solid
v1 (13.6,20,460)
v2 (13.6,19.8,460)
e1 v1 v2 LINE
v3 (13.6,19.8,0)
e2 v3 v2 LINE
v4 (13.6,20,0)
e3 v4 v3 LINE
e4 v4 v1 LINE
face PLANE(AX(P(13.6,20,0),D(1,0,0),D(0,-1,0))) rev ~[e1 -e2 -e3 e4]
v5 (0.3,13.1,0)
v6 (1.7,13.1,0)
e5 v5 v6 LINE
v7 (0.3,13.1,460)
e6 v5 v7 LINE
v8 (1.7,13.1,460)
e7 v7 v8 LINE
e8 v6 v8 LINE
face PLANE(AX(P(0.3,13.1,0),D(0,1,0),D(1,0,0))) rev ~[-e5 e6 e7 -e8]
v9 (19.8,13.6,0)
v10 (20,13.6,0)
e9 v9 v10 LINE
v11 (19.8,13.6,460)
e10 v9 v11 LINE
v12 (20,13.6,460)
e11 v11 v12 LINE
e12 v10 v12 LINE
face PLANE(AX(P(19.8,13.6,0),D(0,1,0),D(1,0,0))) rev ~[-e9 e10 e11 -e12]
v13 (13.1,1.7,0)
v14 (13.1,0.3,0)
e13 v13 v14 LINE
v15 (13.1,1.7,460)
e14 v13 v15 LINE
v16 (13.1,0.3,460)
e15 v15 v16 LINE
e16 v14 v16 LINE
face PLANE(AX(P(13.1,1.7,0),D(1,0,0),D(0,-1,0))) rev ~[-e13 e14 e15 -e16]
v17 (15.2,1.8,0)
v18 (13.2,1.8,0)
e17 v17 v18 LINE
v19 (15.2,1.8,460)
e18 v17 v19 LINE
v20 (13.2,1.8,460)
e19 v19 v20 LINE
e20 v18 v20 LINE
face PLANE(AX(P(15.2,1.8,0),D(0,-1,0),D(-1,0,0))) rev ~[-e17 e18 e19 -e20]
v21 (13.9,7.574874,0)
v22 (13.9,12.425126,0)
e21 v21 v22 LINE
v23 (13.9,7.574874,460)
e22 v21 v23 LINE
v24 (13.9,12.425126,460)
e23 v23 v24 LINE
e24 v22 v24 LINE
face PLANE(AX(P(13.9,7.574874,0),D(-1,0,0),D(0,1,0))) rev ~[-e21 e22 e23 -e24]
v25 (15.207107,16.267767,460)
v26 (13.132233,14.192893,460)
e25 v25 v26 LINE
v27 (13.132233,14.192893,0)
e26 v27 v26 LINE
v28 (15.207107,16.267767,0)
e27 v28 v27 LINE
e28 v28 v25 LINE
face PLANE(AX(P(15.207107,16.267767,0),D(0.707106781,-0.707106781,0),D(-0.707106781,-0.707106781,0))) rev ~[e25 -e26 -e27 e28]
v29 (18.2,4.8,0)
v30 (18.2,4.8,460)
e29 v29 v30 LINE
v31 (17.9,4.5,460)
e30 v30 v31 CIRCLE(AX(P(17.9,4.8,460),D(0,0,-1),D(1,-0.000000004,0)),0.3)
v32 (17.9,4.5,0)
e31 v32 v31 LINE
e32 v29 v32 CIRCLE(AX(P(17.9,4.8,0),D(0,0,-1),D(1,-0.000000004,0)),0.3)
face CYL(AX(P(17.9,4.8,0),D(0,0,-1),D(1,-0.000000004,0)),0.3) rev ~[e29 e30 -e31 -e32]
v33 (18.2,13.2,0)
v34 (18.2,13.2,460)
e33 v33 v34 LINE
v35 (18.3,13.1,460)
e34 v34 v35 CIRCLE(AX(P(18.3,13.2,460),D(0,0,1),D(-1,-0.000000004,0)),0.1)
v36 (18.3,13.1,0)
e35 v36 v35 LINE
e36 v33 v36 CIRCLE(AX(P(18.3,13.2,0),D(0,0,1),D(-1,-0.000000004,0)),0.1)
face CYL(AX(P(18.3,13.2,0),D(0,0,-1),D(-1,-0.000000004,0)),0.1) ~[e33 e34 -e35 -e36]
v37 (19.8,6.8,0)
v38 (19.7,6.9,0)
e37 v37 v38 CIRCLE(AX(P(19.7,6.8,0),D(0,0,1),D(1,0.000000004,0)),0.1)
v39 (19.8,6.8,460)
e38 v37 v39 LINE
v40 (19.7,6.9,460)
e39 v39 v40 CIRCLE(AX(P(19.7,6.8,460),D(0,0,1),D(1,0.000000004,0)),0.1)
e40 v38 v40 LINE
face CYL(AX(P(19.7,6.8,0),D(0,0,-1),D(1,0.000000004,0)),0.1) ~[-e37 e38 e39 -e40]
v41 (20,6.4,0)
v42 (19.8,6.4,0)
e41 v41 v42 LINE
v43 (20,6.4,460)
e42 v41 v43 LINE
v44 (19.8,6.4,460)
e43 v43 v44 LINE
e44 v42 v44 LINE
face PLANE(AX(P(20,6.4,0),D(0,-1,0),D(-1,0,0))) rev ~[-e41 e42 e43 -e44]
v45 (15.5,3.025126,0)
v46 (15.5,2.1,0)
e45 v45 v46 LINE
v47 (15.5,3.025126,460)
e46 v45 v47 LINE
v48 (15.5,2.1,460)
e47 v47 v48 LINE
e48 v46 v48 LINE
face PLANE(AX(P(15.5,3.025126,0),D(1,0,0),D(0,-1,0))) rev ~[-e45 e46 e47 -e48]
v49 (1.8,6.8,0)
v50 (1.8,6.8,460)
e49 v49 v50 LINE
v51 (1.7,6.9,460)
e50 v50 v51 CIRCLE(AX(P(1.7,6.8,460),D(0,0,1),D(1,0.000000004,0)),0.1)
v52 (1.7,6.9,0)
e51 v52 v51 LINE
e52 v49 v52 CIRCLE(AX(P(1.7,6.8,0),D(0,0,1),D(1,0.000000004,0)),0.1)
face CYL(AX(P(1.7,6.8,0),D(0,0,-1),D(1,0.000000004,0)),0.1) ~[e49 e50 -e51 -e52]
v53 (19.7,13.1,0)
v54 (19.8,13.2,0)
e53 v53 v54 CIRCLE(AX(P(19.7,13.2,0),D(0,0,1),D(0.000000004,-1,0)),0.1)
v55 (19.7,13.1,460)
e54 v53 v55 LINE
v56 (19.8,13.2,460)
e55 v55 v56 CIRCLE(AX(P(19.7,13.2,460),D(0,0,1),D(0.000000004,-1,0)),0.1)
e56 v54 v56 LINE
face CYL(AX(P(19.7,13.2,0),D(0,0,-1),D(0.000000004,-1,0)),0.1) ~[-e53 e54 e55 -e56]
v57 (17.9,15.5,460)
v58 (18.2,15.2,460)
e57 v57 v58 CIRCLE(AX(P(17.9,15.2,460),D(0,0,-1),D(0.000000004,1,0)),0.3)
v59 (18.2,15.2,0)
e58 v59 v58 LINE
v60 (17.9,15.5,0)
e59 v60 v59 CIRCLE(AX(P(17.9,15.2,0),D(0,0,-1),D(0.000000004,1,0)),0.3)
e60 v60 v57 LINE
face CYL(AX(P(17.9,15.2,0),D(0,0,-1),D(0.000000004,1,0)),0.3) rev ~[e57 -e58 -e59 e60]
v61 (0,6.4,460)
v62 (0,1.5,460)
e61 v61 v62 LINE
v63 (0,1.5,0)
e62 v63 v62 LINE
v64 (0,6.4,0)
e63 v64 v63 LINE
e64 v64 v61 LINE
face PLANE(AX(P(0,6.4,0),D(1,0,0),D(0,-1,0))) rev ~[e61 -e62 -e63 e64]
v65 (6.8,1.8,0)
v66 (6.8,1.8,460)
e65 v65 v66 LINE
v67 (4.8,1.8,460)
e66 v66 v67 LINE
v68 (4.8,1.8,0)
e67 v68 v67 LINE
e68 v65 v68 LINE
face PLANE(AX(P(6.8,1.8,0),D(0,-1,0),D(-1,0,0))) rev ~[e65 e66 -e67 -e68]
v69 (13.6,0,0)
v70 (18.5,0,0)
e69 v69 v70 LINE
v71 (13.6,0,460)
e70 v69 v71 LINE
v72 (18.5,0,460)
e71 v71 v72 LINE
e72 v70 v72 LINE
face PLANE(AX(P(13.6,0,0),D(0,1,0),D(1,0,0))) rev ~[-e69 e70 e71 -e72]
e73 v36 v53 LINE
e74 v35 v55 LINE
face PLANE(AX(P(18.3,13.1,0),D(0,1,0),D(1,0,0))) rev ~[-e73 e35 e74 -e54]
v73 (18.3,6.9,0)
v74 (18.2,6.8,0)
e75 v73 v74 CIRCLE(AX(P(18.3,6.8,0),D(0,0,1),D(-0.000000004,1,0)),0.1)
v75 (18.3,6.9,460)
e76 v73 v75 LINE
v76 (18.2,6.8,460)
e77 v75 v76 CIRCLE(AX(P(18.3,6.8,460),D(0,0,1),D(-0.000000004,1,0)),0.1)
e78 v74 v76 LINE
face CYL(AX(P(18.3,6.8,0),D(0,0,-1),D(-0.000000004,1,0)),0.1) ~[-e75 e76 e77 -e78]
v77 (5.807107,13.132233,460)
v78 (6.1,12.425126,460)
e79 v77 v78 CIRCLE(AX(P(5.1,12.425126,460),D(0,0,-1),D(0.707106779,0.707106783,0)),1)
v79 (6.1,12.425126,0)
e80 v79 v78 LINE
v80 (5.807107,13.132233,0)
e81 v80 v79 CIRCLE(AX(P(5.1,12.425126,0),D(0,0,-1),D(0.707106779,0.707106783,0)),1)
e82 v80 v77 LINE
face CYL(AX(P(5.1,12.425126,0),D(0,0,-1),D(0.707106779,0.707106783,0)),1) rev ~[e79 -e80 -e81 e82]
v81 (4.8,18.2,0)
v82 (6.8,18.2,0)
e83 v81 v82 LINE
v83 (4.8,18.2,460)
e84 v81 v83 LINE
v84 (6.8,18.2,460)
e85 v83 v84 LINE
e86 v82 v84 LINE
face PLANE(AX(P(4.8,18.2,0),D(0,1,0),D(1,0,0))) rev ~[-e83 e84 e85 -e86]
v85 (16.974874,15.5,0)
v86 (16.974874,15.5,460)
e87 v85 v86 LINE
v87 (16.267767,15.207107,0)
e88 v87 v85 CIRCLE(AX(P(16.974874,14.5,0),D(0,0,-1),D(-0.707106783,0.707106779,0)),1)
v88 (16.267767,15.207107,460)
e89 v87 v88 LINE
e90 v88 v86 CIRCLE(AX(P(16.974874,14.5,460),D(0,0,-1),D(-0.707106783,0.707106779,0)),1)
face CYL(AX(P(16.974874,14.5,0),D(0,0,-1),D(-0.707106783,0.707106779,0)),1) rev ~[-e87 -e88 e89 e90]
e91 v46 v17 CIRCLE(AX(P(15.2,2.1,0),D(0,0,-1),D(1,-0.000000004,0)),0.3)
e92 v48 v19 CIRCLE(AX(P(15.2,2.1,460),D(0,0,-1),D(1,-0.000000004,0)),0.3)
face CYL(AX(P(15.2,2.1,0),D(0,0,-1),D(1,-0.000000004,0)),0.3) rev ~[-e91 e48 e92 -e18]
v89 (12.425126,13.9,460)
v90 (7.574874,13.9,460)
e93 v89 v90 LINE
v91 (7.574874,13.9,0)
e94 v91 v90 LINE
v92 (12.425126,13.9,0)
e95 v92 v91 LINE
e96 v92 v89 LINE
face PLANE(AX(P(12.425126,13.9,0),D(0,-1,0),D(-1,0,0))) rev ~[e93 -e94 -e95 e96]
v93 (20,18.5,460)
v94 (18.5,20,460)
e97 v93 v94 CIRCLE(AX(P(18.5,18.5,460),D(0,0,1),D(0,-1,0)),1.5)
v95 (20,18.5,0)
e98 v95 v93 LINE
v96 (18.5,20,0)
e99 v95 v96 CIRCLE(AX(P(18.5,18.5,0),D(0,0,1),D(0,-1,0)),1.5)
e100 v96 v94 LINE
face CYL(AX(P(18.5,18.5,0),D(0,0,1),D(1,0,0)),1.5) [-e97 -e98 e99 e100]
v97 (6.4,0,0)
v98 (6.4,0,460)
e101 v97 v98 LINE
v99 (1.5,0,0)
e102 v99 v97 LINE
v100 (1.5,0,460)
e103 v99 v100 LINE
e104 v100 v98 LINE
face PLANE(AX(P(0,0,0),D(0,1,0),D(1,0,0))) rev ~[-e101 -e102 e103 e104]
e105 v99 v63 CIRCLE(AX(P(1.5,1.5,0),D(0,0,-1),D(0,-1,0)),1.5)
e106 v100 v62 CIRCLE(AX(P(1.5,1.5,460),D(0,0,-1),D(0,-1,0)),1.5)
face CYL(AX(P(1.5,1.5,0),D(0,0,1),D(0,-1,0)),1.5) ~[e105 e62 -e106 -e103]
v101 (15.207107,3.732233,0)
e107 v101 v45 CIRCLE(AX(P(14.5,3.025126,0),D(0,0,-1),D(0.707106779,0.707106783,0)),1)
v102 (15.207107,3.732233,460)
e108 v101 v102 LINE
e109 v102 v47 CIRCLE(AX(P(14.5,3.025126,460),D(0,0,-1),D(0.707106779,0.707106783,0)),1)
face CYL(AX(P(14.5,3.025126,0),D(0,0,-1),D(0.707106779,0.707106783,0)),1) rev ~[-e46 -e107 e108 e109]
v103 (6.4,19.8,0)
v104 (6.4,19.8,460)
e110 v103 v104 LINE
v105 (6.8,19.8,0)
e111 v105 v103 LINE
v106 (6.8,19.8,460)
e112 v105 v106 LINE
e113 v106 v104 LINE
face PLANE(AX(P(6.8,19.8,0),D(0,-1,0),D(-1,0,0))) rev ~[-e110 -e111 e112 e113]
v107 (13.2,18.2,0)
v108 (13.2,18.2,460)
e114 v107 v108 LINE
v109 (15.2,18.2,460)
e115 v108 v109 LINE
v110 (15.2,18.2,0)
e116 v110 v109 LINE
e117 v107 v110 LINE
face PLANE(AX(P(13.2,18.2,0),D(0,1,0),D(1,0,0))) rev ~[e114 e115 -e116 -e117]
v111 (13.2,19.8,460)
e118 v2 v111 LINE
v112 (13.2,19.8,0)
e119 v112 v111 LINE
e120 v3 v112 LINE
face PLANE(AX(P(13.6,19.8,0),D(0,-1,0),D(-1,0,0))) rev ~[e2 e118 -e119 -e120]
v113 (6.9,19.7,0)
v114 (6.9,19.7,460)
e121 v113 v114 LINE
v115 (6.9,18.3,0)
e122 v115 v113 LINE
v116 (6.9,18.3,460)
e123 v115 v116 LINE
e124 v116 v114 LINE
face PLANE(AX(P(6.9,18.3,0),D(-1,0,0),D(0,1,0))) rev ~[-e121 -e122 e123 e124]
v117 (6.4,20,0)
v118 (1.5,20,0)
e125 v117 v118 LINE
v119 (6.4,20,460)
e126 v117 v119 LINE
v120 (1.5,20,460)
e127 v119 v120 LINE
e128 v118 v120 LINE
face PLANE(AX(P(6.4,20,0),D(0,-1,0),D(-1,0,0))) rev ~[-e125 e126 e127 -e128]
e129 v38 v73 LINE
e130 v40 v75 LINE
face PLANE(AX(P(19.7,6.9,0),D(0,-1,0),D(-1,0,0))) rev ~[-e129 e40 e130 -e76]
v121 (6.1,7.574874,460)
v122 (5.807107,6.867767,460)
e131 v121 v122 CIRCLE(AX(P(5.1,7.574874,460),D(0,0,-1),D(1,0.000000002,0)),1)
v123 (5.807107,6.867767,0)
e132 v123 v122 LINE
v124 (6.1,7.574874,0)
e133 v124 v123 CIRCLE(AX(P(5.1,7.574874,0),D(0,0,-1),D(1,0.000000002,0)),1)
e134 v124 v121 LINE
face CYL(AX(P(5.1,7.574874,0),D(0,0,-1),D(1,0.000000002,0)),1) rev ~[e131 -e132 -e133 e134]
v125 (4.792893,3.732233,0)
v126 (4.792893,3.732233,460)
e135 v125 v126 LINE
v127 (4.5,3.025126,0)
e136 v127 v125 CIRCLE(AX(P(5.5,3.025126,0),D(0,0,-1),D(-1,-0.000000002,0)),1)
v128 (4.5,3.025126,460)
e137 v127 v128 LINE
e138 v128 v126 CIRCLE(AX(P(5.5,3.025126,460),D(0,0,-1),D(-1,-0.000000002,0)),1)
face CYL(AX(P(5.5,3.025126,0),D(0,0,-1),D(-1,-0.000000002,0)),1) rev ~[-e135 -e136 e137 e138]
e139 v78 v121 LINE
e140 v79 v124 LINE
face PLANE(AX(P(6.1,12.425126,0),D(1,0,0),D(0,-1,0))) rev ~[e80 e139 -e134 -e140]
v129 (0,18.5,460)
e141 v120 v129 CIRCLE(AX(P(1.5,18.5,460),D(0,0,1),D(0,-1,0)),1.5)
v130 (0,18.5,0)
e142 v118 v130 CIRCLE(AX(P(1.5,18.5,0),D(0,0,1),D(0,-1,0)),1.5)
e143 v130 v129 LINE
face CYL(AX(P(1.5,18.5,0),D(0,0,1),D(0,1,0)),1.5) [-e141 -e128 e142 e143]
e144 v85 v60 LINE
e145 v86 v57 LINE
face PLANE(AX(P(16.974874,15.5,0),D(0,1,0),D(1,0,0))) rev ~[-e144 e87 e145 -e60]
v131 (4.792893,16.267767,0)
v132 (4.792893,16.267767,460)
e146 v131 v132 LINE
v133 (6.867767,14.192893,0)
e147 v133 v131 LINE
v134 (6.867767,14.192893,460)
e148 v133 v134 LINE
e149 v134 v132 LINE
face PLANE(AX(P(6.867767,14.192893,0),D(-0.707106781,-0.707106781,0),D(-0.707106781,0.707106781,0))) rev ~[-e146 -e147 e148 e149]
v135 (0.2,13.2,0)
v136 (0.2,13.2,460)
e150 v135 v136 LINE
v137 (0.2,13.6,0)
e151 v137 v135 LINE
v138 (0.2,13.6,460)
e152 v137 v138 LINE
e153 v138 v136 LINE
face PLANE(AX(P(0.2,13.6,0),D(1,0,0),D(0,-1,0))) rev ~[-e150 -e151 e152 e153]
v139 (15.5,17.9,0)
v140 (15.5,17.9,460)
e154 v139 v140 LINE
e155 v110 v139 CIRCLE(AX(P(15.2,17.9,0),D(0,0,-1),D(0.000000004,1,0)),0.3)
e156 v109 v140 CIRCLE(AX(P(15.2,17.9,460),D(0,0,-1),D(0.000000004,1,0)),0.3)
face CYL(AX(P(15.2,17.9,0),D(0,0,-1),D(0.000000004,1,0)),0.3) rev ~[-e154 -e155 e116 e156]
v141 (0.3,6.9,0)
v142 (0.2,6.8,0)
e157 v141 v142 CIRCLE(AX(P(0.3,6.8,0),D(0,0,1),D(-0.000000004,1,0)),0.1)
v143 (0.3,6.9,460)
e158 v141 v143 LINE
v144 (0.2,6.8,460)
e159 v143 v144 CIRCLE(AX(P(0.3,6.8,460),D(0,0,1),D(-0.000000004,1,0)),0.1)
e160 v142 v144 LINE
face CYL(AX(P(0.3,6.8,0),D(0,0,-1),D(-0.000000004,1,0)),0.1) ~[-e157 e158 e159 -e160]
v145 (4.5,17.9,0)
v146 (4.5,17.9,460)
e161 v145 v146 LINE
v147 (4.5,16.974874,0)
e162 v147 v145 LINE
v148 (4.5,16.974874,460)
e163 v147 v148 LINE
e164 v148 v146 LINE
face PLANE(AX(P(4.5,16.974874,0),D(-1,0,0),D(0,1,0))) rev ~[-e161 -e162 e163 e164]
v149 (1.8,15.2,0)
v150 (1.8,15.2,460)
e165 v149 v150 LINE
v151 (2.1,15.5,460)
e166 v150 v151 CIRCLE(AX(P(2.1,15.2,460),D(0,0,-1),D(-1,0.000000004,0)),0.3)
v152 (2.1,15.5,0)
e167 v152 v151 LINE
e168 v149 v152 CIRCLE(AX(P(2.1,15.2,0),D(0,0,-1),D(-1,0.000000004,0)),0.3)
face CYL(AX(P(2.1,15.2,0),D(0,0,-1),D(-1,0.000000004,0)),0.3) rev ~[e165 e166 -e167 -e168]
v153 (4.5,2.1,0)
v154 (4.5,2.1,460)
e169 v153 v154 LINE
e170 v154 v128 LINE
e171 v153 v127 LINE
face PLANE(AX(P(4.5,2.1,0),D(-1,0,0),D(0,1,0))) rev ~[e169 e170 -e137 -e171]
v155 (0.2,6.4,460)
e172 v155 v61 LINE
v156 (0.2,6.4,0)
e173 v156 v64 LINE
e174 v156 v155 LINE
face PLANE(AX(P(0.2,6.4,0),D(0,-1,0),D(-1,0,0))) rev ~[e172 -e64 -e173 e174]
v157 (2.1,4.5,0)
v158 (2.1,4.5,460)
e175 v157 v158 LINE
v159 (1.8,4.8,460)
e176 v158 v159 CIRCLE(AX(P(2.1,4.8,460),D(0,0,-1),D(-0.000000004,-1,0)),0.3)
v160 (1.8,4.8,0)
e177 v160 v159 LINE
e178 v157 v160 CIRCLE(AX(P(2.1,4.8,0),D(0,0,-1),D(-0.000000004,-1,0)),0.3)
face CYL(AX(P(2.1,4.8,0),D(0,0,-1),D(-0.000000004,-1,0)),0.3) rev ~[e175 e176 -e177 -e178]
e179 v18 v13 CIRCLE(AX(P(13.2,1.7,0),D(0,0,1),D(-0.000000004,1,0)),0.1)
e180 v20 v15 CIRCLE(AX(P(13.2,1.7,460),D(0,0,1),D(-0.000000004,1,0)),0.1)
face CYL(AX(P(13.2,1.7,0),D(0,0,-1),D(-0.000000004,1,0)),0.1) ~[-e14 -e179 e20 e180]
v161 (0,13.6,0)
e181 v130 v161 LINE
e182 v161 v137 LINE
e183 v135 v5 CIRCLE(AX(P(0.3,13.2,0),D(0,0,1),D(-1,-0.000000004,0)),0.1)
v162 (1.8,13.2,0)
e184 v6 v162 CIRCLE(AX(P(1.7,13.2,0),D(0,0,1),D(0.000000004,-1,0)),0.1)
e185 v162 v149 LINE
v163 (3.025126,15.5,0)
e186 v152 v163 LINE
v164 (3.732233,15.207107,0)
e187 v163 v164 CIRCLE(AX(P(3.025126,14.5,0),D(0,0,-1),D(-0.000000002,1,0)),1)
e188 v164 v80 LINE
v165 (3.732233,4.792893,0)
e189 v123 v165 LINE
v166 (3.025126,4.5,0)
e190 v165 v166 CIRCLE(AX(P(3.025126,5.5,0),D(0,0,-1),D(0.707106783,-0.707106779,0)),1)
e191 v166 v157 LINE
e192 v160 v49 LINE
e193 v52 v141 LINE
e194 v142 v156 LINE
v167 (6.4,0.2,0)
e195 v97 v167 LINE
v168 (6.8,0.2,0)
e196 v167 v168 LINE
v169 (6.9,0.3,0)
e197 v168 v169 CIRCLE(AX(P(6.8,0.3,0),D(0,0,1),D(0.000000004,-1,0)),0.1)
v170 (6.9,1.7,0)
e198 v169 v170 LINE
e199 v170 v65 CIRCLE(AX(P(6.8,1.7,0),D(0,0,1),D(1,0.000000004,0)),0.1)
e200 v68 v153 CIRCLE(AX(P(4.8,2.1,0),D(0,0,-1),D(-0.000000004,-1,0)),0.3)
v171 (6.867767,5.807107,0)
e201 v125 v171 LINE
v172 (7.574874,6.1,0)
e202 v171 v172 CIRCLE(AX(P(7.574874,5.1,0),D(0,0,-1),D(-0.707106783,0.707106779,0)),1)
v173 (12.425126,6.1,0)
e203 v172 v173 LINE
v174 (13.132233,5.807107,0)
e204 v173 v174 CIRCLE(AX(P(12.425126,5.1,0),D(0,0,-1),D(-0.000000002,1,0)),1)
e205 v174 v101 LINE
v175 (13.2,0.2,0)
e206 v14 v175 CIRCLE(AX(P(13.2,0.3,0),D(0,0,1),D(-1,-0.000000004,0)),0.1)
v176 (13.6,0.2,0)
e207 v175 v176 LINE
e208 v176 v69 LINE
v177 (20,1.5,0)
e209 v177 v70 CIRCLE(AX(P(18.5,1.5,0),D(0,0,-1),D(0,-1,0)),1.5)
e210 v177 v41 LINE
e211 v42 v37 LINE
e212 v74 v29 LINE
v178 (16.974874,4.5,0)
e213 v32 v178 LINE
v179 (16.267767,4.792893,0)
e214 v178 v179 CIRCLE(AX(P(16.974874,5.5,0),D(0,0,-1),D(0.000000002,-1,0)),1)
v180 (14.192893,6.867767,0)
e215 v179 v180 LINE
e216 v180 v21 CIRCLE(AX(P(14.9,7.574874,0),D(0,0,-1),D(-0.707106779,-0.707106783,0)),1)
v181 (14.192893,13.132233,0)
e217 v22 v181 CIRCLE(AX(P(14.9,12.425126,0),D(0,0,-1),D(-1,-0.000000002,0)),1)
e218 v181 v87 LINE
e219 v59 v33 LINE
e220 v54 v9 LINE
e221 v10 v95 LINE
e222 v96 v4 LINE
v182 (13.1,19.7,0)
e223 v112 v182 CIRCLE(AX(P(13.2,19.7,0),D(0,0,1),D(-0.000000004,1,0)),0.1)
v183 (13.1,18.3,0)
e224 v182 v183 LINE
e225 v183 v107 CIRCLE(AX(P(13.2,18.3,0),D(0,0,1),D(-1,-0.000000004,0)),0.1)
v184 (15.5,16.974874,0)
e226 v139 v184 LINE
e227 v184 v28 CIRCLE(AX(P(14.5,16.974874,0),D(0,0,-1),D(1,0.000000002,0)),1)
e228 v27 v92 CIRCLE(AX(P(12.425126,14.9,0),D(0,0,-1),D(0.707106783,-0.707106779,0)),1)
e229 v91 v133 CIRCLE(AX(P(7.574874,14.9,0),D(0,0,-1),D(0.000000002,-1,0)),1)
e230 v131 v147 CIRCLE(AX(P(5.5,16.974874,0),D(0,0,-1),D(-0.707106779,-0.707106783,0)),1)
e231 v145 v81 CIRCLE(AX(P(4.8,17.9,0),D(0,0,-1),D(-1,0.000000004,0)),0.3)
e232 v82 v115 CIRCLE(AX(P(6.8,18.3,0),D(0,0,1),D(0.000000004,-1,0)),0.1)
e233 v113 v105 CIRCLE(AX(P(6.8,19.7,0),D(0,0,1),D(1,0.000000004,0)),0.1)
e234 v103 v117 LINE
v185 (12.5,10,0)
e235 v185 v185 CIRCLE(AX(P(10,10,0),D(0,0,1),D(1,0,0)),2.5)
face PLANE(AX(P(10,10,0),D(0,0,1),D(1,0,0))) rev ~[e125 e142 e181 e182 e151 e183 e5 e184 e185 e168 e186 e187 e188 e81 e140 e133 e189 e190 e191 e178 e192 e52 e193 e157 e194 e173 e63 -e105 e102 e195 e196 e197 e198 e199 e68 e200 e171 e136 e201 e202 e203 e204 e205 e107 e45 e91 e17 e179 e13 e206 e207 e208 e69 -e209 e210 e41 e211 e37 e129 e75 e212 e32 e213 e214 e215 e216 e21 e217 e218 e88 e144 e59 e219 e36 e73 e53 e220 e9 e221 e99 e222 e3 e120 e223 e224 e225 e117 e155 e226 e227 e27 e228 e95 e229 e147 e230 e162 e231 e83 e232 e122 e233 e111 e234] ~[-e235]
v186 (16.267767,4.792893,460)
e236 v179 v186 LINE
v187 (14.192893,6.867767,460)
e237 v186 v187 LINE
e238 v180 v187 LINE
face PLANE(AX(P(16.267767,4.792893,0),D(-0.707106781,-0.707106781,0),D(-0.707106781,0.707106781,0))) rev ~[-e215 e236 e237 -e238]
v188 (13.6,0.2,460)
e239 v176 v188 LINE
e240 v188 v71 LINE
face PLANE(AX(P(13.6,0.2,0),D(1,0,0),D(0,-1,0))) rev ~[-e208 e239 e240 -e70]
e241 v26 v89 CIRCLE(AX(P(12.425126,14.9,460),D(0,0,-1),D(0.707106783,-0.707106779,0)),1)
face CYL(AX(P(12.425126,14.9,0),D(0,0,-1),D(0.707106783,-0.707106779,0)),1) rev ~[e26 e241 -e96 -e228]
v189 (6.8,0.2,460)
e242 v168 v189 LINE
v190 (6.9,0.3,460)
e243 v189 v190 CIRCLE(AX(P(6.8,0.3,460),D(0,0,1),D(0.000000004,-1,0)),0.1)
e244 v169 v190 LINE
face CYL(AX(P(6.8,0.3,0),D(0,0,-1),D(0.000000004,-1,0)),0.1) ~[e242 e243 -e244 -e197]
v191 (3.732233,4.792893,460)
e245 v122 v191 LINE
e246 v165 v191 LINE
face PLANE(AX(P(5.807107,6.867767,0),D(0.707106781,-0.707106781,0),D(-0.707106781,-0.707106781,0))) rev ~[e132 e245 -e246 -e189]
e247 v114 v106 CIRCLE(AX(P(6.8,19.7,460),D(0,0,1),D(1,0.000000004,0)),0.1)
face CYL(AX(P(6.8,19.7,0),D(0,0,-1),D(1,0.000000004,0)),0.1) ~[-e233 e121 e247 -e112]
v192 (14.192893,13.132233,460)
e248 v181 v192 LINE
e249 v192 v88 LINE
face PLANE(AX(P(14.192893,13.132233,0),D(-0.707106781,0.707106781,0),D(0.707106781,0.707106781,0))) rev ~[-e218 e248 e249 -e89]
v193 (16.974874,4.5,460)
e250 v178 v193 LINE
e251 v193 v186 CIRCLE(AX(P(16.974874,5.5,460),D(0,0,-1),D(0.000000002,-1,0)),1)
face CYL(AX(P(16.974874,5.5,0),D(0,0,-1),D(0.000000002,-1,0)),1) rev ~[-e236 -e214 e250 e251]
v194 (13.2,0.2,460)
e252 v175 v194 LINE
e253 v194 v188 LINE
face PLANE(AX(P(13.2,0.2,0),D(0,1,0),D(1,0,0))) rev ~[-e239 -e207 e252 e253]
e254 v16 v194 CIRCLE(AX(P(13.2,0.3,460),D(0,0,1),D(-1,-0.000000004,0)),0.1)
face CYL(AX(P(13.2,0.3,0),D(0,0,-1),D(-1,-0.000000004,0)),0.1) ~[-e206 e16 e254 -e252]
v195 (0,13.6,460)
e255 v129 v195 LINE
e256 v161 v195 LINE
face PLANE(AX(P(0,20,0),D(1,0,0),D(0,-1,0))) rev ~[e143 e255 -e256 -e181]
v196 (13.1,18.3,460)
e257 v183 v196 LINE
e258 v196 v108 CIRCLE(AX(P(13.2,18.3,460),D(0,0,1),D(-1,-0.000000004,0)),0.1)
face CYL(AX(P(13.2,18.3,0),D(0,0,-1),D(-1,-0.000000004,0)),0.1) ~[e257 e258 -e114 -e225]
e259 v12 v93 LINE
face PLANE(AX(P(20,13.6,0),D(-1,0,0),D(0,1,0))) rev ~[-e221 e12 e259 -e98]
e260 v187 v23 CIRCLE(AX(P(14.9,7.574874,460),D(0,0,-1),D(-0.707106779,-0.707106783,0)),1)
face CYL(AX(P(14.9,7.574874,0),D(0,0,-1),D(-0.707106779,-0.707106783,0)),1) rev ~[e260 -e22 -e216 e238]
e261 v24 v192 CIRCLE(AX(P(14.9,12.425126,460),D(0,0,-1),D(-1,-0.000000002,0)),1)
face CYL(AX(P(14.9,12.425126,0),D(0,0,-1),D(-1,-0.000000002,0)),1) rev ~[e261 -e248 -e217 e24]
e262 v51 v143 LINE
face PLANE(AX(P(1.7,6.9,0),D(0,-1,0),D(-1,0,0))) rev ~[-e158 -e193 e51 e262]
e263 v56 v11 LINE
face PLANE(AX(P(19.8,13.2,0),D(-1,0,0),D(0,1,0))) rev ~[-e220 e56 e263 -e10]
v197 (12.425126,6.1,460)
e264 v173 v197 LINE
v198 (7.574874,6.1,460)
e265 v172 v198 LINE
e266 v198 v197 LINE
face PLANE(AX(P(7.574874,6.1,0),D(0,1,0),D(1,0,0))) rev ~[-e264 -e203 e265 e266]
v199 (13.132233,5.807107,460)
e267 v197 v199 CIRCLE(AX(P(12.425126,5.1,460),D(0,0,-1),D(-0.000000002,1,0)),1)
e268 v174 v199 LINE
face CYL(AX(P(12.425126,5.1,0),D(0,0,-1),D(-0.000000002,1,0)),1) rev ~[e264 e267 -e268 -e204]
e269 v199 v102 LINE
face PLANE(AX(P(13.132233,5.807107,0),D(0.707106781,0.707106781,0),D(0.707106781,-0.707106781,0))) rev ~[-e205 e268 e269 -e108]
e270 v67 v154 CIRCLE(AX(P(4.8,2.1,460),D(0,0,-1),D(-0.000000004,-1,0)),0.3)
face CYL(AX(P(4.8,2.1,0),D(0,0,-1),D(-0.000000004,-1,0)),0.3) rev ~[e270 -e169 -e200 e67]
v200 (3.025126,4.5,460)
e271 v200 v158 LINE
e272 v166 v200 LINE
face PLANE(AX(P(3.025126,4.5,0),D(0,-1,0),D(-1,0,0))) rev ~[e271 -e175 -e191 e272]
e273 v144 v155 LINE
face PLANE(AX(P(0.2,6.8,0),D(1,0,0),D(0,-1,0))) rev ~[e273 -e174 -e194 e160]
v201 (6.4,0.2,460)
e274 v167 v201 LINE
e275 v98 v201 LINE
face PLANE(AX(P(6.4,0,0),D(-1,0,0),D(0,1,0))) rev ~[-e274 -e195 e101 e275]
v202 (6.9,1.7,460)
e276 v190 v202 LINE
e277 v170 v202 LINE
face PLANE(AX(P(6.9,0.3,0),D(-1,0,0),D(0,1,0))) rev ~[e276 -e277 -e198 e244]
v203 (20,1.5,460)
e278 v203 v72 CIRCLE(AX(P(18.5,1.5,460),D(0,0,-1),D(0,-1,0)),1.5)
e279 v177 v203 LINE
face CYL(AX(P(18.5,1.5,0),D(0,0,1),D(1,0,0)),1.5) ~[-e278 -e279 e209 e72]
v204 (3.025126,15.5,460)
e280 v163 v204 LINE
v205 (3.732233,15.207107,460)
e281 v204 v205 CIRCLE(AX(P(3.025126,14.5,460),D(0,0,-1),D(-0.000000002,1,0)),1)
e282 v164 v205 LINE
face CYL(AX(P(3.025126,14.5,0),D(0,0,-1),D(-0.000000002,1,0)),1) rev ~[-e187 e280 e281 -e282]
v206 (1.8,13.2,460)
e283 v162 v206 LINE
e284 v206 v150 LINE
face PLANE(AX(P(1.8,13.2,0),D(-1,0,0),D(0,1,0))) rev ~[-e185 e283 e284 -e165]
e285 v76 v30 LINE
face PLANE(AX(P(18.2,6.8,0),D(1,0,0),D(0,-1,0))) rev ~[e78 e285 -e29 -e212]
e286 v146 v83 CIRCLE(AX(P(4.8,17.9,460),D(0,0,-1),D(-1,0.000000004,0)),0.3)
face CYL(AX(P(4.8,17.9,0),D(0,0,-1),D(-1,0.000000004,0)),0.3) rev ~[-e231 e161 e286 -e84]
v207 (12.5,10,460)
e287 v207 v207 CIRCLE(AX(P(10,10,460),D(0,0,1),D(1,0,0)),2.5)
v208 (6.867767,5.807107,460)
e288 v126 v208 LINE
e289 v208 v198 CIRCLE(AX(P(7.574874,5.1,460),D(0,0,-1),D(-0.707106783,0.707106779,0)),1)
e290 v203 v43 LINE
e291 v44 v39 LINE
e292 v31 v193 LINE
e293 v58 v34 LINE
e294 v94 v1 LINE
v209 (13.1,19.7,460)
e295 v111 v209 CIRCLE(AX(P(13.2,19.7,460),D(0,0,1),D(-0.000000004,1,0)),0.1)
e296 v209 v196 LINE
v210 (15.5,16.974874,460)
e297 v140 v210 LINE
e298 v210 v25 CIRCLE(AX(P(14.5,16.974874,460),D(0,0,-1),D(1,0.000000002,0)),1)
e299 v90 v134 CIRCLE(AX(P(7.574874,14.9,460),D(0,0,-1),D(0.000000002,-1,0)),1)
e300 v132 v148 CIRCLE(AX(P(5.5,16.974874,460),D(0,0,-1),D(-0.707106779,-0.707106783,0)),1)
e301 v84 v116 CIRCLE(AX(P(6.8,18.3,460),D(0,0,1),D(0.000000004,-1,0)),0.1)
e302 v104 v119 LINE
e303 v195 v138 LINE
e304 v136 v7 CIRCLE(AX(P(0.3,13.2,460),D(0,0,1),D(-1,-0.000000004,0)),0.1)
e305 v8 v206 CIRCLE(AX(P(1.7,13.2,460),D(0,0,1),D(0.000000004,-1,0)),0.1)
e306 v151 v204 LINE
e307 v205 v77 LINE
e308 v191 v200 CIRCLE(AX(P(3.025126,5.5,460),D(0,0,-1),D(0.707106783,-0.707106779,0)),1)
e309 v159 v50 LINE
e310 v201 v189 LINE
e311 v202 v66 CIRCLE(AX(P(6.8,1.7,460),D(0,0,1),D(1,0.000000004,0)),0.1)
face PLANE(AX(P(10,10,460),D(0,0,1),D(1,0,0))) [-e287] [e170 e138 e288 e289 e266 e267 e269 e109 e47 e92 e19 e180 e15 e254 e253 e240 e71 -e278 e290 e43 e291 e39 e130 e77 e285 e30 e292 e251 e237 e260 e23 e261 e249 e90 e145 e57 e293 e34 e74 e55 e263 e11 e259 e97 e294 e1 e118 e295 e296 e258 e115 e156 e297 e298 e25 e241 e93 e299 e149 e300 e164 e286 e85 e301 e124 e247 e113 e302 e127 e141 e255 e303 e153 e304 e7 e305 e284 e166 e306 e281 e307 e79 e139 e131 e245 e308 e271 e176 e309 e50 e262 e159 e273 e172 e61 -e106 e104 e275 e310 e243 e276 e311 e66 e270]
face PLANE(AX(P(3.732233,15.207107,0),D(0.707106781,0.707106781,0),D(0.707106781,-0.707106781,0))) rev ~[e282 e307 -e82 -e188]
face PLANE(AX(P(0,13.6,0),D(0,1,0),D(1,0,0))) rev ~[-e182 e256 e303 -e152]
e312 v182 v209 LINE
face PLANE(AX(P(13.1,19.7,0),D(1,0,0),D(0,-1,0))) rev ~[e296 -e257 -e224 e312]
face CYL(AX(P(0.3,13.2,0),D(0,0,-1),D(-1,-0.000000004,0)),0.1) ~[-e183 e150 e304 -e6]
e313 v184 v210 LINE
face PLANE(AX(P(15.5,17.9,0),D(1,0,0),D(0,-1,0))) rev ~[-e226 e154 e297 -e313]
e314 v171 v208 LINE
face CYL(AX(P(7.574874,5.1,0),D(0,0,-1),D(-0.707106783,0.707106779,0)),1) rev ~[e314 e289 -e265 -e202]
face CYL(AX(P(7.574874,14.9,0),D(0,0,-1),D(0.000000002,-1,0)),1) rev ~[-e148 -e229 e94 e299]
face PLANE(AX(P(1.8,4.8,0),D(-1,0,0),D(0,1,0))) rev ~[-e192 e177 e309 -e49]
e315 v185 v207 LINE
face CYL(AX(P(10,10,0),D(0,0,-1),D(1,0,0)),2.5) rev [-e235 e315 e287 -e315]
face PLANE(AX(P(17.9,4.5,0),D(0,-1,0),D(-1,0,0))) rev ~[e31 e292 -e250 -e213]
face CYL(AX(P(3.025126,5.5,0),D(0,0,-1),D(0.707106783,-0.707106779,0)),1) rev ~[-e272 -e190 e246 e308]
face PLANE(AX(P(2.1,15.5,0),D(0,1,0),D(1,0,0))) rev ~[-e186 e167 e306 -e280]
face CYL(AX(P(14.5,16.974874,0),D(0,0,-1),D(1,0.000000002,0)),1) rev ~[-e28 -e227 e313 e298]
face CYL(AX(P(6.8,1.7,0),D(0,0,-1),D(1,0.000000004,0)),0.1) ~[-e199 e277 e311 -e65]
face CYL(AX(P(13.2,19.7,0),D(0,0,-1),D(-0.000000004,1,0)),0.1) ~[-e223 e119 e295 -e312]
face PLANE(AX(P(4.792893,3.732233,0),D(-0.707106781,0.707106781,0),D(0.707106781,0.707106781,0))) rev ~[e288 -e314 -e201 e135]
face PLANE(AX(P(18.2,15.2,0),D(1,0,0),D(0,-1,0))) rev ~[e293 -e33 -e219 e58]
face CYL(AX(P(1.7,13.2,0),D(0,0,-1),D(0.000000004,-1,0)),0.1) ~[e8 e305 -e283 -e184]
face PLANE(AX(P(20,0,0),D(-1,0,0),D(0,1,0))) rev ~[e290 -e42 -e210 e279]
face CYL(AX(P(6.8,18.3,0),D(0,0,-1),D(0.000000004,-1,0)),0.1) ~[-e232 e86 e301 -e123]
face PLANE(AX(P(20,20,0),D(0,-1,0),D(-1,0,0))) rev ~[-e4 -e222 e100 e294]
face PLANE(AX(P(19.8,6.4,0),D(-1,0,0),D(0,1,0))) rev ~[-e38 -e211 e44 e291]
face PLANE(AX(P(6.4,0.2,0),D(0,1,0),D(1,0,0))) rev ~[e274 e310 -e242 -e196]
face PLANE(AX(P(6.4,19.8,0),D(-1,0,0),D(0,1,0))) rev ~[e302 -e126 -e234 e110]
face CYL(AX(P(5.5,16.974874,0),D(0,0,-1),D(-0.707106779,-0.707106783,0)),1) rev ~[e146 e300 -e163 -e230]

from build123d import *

# Parameters (mm, degrees)
SKETCH_1_R      = 2.5
EXTRUDE_1_DEPTH = 460
FILLET_1_R      = 1.5


with BuildPart() as part:
    # 草图1 → 凸台-拉伸1 (new body)
    with BuildSketch(Plane.XY):
        with BuildLine():
            Line((20, 13.6), (20, 20))
            Line((20, 20), (13.6, 20))
            Line((13.6, 20), (13.6, 19.8))
            Line((13.6, 19.8), (13.2, 19.8))
            ThreePointArc((13.2, 19.8), (13.129289322, 19.770710678), (13.1, 19.7))
            Line((13.1, 19.7), (13.1, 18.3))
            ThreePointArc((13.1, 18.3), (13.129289322, 18.229289322), (13.2, 18.2))
            Line((13.2, 18.2), (15.2, 18.2))
            ThreePointArc((15.2, 18.2), (15.412132034, 18.112132034), (15.5, 17.9))
            Line((15.5, 17.9), (15.5, 16.974873734))
            ThreePointArc((15.5, 16.974873734), (15.423879533, 16.592190302), (15.207106781, 16.267766953))
            Line((15.207106781, 16.267766953), (13.132233047, 14.192893219))
            ThreePointArc((13.132233047, 14.192893219), (12.807809698, 13.976120467), (12.425126266, 13.9))
            Line((12.425126266, 13.9), (7.574873734, 13.9))
            ThreePointArc((7.574873734, 13.9), (7.192190302, 13.976120467), (6.867766953, 14.192893219))
            Line((6.867766953, 14.192893219), (4.792893219, 16.267766953))
            ThreePointArc((4.792893219, 16.267766953), (4.576120467, 16.592190302), (4.5, 16.974873734))
            Line((4.5, 16.974873734), (4.5, 17.9))
            ThreePointArc((4.5, 17.9), (4.587867966, 18.112132034), (4.8, 18.2))
            Line((4.8, 18.2), (6.8, 18.2))
            ThreePointArc((6.8, 18.2), (6.870710678, 18.229289322), (6.9, 18.3))
            Line((6.9, 18.3), (6.9, 19.7))
            ThreePointArc((6.9, 19.7), (6.870710678, 19.770710678), (6.8, 19.8))
            Line((6.8, 19.8), (6.4, 19.8))
            Line((6.4, 19.8), (6.4, 20))
            Line((6.4, 20), (0, 20))
            Line((0, 20), (0, 13.6))
            Line((0, 13.6), (0.2, 13.6))
            Line((0.2, 13.6), (0.2, 13.2))
            ThreePointArc((0.2, 13.2), (0.229289322, 13.129289322), (0.3, 13.1))
            Line((0.3, 13.1), (1.7, 13.1))
            ThreePointArc((1.7, 13.1), (1.770710678, 13.129289322), (1.8, 13.2))
            Line((1.8, 13.2), (1.8, 15.2))
            ThreePointArc((1.8, 15.2), (1.887867966, 15.412132034), (2.1, 15.5))
            Line((2.1, 15.5), (3.025126266, 15.5))
            ThreePointArc((3.025126266, 15.5), (3.407809698, 15.423879533), (3.732233047, 15.207106781))
            Line((3.732233047, 15.207106781), (5.807106781, 13.132233047))
            ThreePointArc((5.807106781, 13.132233047), (6.023879533, 12.807809698), (6.1, 12.425126266))
            Line((6.1, 12.425126266), (6.1, 7.574873734))
            ThreePointArc((6.1, 7.574873734), (6.023879533, 7.192190302), (5.807106781, 6.867766953))
            Line((5.807106781, 6.867766953), (3.732233047, 4.792893219))
            ThreePointArc((3.732233047, 4.792893219), (3.407809698, 4.576120467), (3.025126266, 4.5))
            Line((3.025126266, 4.5), (2.1, 4.5))
            ThreePointArc((2.1, 4.5), (1.887867966, 4.587867966), (1.8, 4.8))
            Line((1.8, 4.8), (1.8, 6.8))
            ThreePointArc((1.8, 6.8), (1.770710678, 6.870710678), (1.7, 6.9))
            Line((1.7, 6.9), (0.3, 6.9))
            ThreePointArc((0.3, 6.9), (0.229289322, 6.870710678), (0.2, 6.8))
            Line((0.2, 6.8), (0.2, 6.4))
            Line((0.2, 6.4), (0, 6.4))
            Line((0, 6.4), (0, 0))
            Line((0, 0), (6.4, 0))
            Line((6.4, 0), (6.4, 0.2))
            Line((6.4, 0.2), (6.8, 0.2))
            ThreePointArc((6.8, 0.2), (6.870710678, 0.229289322), (6.9, 0.3))
            Line((6.9, 0.3), (6.9, 1.7))
            ThreePointArc((6.9, 1.7), (6.870710678, 1.770710678), (6.8, 1.8))
            Line((6.8, 1.8), (4.8, 1.8))
            ThreePointArc((4.8, 1.8), (4.587867966, 1.887867966), (4.5, 2.1))
            Line((4.5, 2.1), (4.5, 3.025126266))
            ThreePointArc((4.5, 3.025126266), (4.576120467, 3.407809698), (4.792893219, 3.732233047))
            Line((4.792893219, 3.732233047), (6.867766953, 5.807106781))
            ThreePointArc((6.867766953, 5.807106781), (7.192190302, 6.023879533), (7.574873734, 6.1))
            Line((7.574873734, 6.1), (12.425126266, 6.1))
            ThreePointArc((12.425126266, 6.1), (12.807809698, 6.023879533), (13.132233047, 5.807106781))
            Line((13.132233047, 5.807106781), (15.207106781, 3.732233047))
            ThreePointArc((15.207106781, 3.732233047), (15.423879533, 3.407809698), (15.5, 3.025126266))
            Line((15.5, 3.025126266), (15.5, 2.1))
            ThreePointArc((15.5, 2.1), (15.412132034, 1.887867966), (15.2, 1.8))
            Line((15.2, 1.8), (13.2, 1.8))
            ThreePointArc((13.2, 1.8), (13.129289322, 1.770710678), (13.1, 1.7))
            Line((13.1, 1.7), (13.1, 0.3))
            ThreePointArc((13.1, 0.3), (13.129289322, 0.229289322), (13.2, 0.2))
            Line((13.2, 0.2), (13.6, 0.2))
            Line((13.6, 0.2), (13.6, 0))
            Line((13.6, 0), (20, 0))
            Line((20, 0), (20, 6.4))
            Line((20, 6.4), (19.8, 6.4))
            Line((19.8, 6.4), (19.8, 6.8))
            ThreePointArc((19.8, 6.8), (19.770710678, 6.870710678), (19.7, 6.9))
            Line((19.7, 6.9), (18.3, 6.9))
            ThreePointArc((18.3, 6.9), (18.229289322, 6.870710678), (18.2, 6.8))
            Line((18.2, 6.8), (18.2, 4.8))
            ThreePointArc((18.2, 4.8), (18.112132034, 4.587867966), (17.9, 4.5))
            Line((17.9, 4.5), (16.974873734, 4.5))
            ThreePointArc((16.974873734, 4.5), (16.592190302, 4.576120467), (16.267766953, 4.792893219))
            Line((16.267766953, 4.792893219), (14.192893219, 6.867766953))
            ThreePointArc((14.192893219, 6.867766953), (13.976120467, 7.192190302), (13.9, 7.574873734))
            Line((13.9, 7.574873734), (13.9, 12.425126266))
            ThreePointArc((13.9, 12.425126266), (13.976120467, 12.807809698), (14.192893219, 13.132233047))
            Line((14.192893219, 13.132233047), (16.267766953, 15.207106781))
            ThreePointArc((16.267766953, 15.207106781), (16.592190302, 15.423879533), (16.974873734, 15.5))
            Line((16.974873734, 15.5), (17.9, 15.5))
            ThreePointArc((17.9, 15.5), (18.112132034, 15.412132034), (18.2, 15.2))
            Line((18.2, 15.2), (18.2, 13.2))
            ThreePointArc((18.2, 13.2), (18.229289322, 13.129289322), (18.3, 13.1))
            Line((18.3, 13.1), (19.7, 13.1))
            ThreePointArc((19.7, 13.1), (19.770710678, 13.129289322), (19.8, 13.2))
            Line((19.8, 13.2), (19.8, 13.6))
            Line((19.8, 13.6), (20, 13.6))
        make_face()
        with Locations((10, 10)):
            Circle(SKETCH_1_R, mode=Mode.SUBTRACT)
    extrude(amount=EXTRUDE_1_DEPTH)

    # 圆角1
    fillet_1_edges = [part.edges().sort_by_distance(p)[0] for p in [
        (0, 0, 230),
        (0, 20, 230),
        (20, 20, 230),
        (20, 0, 230),
    ]]
    fillet(fillet_1_edges, radius=FILLET_1_R)


solid = part.part
